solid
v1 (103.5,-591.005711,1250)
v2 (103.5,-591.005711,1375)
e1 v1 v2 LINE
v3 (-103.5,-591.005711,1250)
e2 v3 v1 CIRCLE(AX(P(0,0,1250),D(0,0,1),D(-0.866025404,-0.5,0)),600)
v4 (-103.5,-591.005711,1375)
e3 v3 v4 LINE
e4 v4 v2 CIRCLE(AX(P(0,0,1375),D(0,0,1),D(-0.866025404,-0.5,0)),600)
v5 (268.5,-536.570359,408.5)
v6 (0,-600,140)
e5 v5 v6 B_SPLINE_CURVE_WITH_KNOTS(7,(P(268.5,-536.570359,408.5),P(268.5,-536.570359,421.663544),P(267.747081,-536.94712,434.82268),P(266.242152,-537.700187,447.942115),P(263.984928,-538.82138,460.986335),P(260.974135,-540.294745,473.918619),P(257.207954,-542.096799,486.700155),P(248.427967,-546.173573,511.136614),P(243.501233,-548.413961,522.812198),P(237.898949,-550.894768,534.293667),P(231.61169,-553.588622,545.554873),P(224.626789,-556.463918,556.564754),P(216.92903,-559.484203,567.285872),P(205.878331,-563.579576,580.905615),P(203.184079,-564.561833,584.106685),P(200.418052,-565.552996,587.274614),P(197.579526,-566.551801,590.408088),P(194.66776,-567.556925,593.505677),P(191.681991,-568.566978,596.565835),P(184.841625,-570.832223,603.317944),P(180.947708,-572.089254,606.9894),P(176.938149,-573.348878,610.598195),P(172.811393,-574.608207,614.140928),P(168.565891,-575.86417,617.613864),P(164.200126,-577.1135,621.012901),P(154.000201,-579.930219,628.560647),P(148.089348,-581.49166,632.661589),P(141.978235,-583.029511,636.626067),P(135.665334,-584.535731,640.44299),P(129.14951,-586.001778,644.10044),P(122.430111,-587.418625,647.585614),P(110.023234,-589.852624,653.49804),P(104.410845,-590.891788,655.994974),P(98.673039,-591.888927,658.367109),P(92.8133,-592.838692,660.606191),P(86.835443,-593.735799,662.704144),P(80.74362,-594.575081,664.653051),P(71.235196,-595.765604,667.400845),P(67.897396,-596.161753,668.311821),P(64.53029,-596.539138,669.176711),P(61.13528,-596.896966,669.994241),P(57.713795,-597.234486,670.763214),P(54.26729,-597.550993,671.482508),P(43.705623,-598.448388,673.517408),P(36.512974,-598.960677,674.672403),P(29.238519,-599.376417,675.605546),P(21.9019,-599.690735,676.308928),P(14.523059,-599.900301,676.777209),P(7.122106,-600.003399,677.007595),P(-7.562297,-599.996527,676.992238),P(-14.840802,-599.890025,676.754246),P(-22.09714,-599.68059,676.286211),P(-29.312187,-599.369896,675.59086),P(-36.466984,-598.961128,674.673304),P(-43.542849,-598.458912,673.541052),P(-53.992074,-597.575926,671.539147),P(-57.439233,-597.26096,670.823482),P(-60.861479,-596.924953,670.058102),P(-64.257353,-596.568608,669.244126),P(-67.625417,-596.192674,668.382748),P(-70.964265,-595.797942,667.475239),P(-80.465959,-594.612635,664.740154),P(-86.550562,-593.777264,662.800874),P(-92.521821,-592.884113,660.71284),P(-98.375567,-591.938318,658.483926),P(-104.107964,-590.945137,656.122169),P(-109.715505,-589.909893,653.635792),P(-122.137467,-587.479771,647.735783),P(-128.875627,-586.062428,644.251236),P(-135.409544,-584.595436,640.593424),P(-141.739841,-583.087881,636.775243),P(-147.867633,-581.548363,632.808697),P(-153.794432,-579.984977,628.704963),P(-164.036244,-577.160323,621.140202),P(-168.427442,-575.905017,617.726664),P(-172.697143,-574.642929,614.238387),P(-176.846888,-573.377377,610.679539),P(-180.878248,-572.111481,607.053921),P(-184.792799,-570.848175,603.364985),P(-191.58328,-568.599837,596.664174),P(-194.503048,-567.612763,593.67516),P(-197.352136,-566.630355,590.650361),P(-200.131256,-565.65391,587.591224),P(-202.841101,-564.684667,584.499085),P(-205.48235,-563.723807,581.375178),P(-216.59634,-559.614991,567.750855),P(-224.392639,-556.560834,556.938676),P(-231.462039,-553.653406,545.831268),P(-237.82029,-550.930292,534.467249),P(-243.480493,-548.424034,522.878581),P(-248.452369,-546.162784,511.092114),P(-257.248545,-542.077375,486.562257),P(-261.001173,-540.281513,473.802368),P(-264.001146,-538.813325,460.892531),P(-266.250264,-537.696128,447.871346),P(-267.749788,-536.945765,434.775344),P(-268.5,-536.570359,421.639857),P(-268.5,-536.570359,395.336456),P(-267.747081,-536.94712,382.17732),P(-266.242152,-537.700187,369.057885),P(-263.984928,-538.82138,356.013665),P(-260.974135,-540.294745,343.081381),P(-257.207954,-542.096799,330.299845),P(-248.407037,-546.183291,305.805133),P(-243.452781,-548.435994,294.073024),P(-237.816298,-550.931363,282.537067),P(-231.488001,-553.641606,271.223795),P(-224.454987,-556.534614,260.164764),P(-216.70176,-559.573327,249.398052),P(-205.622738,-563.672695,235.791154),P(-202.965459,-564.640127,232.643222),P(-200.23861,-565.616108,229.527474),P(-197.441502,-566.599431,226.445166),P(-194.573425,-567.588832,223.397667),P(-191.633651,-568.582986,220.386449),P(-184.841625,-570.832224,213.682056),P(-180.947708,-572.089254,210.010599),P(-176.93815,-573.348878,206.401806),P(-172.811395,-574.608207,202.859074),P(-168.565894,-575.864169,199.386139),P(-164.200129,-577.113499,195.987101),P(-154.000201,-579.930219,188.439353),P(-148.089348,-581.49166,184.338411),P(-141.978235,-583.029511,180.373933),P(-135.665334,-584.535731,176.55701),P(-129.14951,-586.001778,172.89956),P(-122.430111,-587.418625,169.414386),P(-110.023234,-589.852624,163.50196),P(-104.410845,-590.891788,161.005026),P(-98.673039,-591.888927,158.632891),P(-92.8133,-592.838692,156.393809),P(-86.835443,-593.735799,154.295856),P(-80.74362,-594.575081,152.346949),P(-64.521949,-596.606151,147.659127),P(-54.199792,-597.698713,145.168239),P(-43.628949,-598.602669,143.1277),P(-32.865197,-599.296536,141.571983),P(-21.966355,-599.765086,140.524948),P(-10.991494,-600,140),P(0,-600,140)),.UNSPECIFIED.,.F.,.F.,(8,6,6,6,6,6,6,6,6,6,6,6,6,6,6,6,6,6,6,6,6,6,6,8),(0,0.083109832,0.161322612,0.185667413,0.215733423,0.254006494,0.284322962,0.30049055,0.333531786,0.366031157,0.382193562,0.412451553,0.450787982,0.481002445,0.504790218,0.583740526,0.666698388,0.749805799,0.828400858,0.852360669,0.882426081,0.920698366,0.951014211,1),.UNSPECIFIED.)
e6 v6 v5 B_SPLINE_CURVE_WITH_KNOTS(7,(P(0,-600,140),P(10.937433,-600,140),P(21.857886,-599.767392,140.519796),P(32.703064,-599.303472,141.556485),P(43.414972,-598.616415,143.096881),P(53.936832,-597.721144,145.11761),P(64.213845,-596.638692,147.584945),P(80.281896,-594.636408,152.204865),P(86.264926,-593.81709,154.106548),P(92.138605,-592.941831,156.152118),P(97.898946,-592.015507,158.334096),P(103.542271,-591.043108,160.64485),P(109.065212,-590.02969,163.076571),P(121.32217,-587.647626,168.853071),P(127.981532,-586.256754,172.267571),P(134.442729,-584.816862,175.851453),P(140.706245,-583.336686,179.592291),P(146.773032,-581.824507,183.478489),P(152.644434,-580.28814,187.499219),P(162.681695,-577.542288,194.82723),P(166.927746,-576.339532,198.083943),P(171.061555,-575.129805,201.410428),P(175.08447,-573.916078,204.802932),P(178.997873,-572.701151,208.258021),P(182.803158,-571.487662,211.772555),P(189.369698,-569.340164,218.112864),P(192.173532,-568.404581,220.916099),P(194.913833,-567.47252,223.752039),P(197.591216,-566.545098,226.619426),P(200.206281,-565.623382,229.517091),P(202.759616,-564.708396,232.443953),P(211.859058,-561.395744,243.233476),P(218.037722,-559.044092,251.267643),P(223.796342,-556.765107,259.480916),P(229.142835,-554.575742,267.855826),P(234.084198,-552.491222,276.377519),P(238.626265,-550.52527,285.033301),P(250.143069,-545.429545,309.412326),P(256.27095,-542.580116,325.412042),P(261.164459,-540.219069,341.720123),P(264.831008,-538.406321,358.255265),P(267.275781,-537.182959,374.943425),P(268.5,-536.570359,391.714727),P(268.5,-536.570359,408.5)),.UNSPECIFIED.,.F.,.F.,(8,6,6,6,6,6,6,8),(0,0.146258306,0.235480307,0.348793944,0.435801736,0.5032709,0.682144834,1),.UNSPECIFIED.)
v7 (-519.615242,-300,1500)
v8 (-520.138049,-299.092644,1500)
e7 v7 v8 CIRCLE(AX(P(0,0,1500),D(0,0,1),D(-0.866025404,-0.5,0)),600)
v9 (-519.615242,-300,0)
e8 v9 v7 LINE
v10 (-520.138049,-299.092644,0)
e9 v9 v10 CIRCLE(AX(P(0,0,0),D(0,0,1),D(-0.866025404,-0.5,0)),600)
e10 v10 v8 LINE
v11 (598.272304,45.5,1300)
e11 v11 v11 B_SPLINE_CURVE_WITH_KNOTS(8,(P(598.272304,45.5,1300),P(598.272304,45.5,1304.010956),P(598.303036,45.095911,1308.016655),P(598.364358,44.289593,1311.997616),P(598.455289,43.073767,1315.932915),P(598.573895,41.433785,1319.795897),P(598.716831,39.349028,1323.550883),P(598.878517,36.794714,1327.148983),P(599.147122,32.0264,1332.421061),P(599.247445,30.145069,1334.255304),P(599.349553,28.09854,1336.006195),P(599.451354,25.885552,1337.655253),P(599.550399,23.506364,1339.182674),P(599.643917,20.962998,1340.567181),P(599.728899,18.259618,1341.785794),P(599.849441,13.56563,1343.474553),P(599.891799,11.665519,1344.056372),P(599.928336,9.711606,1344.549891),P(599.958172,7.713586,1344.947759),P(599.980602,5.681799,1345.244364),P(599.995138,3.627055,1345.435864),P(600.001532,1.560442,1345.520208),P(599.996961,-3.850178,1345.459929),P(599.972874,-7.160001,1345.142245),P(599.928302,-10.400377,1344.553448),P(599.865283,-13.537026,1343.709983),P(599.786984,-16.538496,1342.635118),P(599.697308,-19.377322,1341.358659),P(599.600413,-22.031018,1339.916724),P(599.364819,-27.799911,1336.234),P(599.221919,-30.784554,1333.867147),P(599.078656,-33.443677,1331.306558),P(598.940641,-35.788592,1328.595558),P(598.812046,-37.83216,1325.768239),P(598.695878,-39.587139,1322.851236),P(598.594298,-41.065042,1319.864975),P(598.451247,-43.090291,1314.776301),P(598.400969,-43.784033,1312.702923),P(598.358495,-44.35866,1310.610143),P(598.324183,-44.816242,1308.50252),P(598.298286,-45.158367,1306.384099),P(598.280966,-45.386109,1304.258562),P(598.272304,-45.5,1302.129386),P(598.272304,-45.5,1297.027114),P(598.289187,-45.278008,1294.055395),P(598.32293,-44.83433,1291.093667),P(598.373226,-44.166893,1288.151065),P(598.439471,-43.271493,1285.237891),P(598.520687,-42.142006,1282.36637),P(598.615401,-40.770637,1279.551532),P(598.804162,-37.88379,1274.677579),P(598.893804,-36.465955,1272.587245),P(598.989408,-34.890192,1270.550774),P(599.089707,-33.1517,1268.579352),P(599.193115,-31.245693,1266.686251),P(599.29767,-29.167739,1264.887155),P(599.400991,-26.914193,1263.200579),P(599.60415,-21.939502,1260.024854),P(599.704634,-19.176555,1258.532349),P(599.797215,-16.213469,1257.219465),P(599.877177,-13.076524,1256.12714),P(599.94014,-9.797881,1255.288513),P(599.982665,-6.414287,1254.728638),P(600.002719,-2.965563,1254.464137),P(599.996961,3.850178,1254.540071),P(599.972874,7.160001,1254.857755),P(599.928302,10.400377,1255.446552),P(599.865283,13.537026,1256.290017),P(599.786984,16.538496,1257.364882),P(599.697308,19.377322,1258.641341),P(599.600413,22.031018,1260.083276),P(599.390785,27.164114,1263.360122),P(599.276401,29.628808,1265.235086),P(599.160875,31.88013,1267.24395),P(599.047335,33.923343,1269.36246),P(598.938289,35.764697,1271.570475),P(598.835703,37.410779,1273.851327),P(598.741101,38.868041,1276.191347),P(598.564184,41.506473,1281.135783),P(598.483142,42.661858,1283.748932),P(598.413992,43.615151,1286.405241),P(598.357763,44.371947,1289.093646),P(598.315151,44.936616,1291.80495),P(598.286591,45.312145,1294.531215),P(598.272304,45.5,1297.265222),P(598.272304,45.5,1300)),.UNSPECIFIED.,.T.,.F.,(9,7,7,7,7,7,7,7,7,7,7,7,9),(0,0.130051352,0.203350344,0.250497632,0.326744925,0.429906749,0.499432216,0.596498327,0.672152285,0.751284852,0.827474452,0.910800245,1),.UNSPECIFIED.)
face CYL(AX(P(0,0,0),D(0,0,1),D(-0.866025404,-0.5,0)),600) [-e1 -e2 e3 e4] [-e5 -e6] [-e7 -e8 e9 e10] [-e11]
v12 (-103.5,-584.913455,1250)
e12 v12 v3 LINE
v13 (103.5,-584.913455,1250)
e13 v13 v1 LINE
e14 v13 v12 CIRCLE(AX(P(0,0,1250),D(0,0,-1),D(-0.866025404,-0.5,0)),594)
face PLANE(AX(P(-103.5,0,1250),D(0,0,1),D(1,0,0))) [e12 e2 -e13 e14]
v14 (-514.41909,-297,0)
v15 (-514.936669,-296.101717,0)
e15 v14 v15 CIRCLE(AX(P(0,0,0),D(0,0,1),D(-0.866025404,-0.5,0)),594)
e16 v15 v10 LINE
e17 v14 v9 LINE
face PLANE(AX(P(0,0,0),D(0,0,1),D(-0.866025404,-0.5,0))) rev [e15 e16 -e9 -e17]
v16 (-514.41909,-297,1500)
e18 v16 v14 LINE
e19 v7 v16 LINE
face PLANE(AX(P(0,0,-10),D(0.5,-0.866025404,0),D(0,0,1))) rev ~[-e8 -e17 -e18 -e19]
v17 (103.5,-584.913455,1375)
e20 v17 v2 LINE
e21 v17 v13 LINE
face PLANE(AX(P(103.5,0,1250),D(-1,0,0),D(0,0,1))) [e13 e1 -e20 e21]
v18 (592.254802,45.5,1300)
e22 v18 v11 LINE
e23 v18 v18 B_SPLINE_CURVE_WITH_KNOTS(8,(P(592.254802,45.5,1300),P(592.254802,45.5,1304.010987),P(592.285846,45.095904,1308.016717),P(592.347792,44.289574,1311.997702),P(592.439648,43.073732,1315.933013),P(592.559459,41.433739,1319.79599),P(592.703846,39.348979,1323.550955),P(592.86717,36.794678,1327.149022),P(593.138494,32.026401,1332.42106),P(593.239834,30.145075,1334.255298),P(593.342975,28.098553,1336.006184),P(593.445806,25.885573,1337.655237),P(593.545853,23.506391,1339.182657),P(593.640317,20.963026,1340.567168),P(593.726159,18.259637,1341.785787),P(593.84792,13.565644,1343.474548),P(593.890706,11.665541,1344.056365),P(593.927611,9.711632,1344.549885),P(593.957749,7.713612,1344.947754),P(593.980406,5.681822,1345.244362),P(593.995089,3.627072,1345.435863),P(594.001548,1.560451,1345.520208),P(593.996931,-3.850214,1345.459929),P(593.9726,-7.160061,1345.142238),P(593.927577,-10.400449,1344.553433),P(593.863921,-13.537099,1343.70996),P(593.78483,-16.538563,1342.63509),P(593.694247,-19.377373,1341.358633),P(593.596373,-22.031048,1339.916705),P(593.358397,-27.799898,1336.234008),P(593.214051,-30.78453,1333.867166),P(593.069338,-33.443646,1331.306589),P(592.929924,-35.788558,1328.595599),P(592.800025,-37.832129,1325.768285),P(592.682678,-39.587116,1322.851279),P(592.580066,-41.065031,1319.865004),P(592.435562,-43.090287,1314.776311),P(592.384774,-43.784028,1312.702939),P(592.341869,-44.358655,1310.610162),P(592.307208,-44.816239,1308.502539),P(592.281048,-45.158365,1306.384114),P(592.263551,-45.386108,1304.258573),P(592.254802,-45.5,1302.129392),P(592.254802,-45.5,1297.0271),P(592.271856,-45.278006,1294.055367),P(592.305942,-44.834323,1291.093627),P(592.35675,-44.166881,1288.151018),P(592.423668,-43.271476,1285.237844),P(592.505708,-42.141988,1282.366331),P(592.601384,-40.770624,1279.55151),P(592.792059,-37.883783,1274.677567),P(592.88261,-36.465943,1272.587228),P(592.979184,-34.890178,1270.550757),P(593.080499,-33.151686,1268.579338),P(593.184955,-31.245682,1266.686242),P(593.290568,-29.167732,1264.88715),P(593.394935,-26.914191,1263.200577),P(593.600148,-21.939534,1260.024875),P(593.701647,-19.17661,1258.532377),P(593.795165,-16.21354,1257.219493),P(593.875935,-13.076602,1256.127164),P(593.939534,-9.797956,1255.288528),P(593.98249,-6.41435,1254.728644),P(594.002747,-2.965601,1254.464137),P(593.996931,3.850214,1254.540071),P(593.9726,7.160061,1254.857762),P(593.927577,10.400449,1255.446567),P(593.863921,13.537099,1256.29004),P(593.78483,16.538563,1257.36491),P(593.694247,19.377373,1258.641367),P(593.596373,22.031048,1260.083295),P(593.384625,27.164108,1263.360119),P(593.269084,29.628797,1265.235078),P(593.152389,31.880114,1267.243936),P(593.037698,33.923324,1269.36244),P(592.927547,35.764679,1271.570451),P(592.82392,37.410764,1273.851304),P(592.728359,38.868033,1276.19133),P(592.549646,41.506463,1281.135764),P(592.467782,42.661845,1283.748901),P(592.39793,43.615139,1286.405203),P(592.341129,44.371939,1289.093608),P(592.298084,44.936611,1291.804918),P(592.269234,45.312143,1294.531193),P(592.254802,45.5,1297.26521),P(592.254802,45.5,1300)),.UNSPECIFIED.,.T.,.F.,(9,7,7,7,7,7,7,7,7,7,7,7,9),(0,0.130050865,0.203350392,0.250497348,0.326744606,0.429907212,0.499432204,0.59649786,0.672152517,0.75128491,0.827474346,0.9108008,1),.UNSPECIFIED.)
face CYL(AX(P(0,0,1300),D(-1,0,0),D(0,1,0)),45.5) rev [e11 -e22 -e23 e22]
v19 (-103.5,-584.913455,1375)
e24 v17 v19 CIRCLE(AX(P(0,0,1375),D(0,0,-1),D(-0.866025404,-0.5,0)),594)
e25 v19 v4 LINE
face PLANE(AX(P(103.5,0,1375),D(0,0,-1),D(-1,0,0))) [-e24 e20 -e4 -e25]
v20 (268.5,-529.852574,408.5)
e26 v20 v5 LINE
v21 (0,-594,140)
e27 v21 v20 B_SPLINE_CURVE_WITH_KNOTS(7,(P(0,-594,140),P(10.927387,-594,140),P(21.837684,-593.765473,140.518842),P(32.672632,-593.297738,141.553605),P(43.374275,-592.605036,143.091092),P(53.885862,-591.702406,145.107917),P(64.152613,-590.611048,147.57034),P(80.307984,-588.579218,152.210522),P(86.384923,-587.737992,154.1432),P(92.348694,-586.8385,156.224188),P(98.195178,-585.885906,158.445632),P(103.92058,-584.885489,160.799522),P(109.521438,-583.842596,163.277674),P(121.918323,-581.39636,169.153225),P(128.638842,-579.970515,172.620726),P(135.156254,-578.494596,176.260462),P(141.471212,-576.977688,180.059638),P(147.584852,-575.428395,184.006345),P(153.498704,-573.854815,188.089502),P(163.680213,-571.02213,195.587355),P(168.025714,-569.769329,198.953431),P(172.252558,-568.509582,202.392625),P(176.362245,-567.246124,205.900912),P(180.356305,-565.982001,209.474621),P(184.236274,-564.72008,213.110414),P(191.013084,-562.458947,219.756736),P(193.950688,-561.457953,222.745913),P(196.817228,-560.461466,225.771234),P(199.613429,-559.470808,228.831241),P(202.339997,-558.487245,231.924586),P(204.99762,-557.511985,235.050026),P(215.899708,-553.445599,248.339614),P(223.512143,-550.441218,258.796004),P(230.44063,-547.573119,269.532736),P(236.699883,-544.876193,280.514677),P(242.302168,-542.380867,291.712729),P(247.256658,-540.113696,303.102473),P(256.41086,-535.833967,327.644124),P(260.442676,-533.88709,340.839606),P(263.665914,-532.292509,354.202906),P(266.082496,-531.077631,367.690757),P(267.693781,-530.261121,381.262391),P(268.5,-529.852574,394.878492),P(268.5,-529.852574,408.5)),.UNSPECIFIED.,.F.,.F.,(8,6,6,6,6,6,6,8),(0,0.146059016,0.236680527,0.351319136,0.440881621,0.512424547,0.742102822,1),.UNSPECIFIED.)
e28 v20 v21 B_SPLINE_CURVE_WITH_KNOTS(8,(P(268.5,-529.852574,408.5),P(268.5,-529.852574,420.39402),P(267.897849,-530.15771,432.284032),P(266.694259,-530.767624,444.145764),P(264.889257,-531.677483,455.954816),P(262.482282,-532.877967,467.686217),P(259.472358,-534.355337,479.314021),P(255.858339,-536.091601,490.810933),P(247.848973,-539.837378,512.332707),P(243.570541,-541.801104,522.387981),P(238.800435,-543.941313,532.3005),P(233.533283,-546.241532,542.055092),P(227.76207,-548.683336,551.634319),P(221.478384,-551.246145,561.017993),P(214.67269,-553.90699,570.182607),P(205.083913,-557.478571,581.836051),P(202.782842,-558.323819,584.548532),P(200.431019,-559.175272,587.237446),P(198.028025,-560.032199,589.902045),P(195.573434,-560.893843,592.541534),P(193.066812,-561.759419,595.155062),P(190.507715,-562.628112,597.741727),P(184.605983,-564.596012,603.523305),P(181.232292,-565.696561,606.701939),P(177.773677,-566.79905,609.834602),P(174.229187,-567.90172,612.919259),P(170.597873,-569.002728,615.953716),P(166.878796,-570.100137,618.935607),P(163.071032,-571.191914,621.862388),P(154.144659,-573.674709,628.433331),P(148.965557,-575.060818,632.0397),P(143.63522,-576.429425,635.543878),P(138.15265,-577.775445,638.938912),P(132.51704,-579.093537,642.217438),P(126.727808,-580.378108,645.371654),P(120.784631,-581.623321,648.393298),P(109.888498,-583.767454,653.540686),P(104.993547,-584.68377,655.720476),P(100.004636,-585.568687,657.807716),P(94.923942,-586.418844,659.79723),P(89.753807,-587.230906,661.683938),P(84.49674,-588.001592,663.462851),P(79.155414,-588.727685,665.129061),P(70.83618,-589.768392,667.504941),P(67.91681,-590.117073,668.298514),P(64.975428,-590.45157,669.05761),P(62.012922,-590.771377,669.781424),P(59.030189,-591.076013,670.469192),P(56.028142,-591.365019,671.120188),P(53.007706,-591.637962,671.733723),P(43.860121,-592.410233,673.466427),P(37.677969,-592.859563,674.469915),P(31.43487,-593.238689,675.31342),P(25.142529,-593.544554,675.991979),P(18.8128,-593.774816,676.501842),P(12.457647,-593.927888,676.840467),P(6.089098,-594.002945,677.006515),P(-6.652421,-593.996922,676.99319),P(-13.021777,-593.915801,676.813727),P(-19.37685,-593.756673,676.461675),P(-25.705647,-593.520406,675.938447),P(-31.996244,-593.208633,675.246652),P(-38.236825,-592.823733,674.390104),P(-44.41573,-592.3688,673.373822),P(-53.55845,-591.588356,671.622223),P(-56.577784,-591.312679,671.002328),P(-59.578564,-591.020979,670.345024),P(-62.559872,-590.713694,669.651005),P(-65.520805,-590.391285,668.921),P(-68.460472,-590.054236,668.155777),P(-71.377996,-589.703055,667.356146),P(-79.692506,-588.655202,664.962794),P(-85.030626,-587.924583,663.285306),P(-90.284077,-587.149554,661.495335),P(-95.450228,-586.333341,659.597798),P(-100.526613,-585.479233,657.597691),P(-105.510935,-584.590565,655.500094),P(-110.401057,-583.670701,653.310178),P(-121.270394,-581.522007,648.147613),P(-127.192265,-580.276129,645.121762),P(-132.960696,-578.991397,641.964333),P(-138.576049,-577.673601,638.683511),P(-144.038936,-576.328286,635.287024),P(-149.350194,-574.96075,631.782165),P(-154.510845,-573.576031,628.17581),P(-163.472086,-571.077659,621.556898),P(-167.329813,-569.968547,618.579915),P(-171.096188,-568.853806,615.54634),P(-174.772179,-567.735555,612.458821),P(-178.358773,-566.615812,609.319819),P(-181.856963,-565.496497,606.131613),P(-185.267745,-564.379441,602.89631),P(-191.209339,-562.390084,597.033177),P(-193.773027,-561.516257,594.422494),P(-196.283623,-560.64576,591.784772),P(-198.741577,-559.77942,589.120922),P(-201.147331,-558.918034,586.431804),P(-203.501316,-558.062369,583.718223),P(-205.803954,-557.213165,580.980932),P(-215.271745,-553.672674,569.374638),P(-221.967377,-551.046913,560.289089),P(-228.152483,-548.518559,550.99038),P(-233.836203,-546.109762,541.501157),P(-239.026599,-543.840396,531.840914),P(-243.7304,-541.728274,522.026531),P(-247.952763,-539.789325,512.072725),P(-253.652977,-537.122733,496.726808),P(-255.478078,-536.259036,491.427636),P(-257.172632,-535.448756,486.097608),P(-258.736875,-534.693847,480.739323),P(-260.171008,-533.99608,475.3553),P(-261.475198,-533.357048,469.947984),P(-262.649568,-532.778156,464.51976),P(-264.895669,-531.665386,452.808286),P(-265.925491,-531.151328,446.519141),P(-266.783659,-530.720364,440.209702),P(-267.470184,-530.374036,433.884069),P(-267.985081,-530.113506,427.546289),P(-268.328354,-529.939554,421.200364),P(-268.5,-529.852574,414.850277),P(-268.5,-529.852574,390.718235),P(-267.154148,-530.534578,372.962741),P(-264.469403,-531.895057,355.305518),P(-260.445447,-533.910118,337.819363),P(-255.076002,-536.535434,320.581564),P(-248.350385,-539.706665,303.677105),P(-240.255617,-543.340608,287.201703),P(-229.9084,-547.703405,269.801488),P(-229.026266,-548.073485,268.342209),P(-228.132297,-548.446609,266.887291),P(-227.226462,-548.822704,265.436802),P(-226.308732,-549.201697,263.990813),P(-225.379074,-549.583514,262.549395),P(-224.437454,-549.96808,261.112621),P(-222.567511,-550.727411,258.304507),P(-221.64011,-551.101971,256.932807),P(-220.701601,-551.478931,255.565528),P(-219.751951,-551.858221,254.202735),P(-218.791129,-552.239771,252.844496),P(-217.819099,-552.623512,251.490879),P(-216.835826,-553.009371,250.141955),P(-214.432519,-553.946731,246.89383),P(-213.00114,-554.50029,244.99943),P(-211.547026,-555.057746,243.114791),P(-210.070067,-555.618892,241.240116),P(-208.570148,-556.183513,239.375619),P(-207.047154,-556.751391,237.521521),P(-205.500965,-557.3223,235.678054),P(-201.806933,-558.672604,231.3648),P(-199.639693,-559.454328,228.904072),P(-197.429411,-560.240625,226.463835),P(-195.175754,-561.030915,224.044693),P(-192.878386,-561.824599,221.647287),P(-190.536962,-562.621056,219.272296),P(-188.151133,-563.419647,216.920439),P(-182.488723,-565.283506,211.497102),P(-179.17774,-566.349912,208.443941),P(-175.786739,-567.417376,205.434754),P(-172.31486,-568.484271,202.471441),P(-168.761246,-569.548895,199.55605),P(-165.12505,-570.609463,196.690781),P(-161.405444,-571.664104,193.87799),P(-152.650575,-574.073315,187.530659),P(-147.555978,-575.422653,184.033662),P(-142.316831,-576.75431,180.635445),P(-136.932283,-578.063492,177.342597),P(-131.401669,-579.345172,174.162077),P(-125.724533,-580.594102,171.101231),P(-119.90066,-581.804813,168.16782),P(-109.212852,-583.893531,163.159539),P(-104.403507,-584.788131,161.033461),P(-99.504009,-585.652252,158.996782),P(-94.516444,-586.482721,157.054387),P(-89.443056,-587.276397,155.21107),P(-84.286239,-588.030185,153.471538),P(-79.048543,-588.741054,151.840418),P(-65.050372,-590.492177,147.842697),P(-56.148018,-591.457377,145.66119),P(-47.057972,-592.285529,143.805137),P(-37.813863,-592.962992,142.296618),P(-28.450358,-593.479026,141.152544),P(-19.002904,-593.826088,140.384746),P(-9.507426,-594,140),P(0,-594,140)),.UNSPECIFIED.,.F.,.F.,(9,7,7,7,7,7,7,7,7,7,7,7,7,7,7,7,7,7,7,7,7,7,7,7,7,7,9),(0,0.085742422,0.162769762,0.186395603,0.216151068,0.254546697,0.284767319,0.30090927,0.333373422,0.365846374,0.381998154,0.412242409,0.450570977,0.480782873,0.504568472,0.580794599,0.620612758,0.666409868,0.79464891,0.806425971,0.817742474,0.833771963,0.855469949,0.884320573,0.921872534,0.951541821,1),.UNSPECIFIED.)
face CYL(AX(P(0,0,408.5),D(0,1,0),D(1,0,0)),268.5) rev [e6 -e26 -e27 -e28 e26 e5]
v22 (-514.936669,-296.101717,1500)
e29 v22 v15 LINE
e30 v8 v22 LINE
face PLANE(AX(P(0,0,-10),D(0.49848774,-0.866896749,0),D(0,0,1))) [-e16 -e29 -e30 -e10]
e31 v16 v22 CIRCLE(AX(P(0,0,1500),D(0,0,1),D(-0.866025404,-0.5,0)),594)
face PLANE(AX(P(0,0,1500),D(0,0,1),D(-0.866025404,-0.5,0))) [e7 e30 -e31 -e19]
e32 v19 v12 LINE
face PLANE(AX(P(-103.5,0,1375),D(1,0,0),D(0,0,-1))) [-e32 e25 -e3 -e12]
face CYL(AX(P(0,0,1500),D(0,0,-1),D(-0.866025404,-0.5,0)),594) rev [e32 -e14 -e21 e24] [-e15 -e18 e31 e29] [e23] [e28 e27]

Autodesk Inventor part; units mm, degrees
sketch "Sketch13" plane through (0, 0, 0) normal (0, 0, 1) x (1, 0, 0)
  circle A0 centre (0, 0) radius 600 construction
  line L0 (0, 0) -> (0, -600)
  line L1 (0, 0) -> (-519.6152, -300)
  line L2 (0, 0) -> (600, 0)
  line L3 (0, 0) -> (0, -600)
  line L4 (0, 0) -> (0, -600)
  line L5 (0, 0) -> (534.6039, 272.3943)
  line L6 (0, 0) -> (0, 600)
  dimension "d53" = 1200
  dimension "d55" = 0
  dimension "d98" = 180
  dimension "d99" = 240
  dimension "d100" = 63
  dimension "d101" = 90
ref_plane "WeldJoint" through (0, 0, -10) normal (0.5, -0.866, 0) x (0, 0, 1)
ref_plane "Inlet_Clock_Angle_plane" through (0, 0, -10) normal (0, 1, 0) x (0, 0, 1)
ref_plane "Charging" through (0, 0, -10) normal (1, 0, 0) x (0, 0, 1)
ref_plane "Accsess" through (0, 0, -10) normal (1, 0, 0) x (0, 0, 1)
sketch "Sketch14" plane through (0, 0, -10) normal (0.5, -0.866, 0) x (0, 0, 1)
  line L0 (1510, 594) -> (10, 594)
  line L1 (10, 594) -> (10, 600)
  line L2 (10, 600) -> (1510, 600)
  line L3 (1510, 600) -> (1510, 594)
  line L4 (10, 0) -> (1510, 0)
  line L5 (10, 600) -> (-20, 600) construction
  line L6 (10, 594) -> (-20, 594) construction
  arc A0 (-20, 594) -> (-109.2789, 539.0476) centre (-20, 494) ccw construction
  arc A1 (-109.2789, 539.0476) -> (-234, 15) centre (929.3202, 15) ccw construction
  line L7 (-234, 15) -> (-234, 0) construction
  line L8 (10, 0) -> (-234, 0) construction
  arc A2 (-20, 600) -> (-114.6356, 541.7504) centre (-20, 494) ccw construction
  arc A3 (-114.6356, 541.7504) -> (-240, 15) centre (929.3202, 15) ccw construction
  line L9 (-240, 15) -> (-240, 0) construction
  line L10 (-234, 0) -> (-240, 0) construction
  line L11 (1510, 594) -> (1540, 594)
  line L12 (1510, 600) -> (1540, 600)
  line L13 (1510, 0) -> (1754, 0) construction
  line L14 (1760, 0) -> (1760, 15) construction
  arc A4 (1760, 15) -> (1634.6356, 541.7504) centre (590.6798, 15) ccw construction
  arc A5 (1634.6356, 541.7504) -> (1540, 600) centre (1540, 494) ccw construction
  line L15 (1754, 0) -> (1754, 15) construction
  line L16 (1754, 0) -> (1760, 0) construction
  arc A6 (1754, 15) -> (1629.2789, 539.0476) centre (590.6798, 15) ccw construction
  arc A7 (1629.2789, 539.0476) -> (1540, 594) centre (1540, 494) ccw construction
  line L17 (-156.8588, 530) -> (-610, 530)
  line L18 (-610, 530) -> (-610, 450)
  line L19 (-610, 450) -> (-156.8588, 450)
  line L20 (-156.8588, 450) -> (-156.8588, 530)
  line L21 (1760, 15) -> (1790, 15) construction
  line L22 (1790, 15) -> (1790, 0) construction
  line L23 (1790, 0) -> (1760, 0) construction
  line L24 (-610, 610) -> (-610, 530)
  line L25 (-610, 610) -> (-604, 610)
  line L26 (-604, 610) -> (-604, 530)
  line L27 (-115.4356, 543.7196) -> (-164.9441, 431.7071)
  line L28 (-156.8588, 530) -> (-121.4996, 530)
  line L29 (-109.2789, 539.0476) -> (-114.6356, 541.7504)
  line L30 (-115.4356, 543.7196) -> (-116.0014, 542.4396) construction
  line L31 (-116.0014, 542.4396) -> (-114.6356, 541.7504) construction
  point P0 (10, 597)
  point P1 (-140.1899, 487.7134)
  dimension "d59" = 1500
  dimension "d60" = 6
  dimension "d61" = 1200
  dimension "d82" = 100
  dimension "d83" = 30
  dimension "d86" = 80
  dimension "d87" = 30
  dimension "d88" = 2400
  dimension "d90" = 900
  dimension "d91" = 15
  dimension "d92" = 20
  dimension "d93" = 250
  dimension "d94" = 30
revolve "Revolution2" add sketch "Sketch14" angle 359.9 about axis through (0, 0, 0) along (0, 0, 1) contours L0 L1 L2 L3
sketch "Sketch AnglePlane_InletPipe" plane through (0, 0, -10) normal (0, 1, 0) x (0, 0, 1)
  line L0 (10, -600) -> (10, 600) projected
  line L1 (10, 0) -> (1310, 0)
  line L2 (1310, 0) -> (1310, 600)
  line L3 (1310, 600) -> (10, 600)
  line L4 (10, 600) -> (10, 0)
  point P0 (10, -519.6152)
  point P1 (10, -520.138)
  dimension "d63" = 1200
  dimension "d64" = 90
  dimension "frd_hght" = 1300
ref_plane "InletPipe_AnglePlane" through (0, 0, 1300) normal (1, 0, 0) x (0, 1, 0)
sketch "Sketch16" plane through (0, 0, 1300) normal (1, 0, 0) x (0, 1, 0)
  circle A0 centre (0, 0) radius 45.5
  point P0 (0, -1300)
  point P1 (0, 0)
  point P2 (0, 0)
  point P3 (0, 0)
  dimension "d66" = 91
extrude "Extrusion7" cut sketch "Sketch16" along normal through all
ref_plane "Work Plane16" through (0, 0, 0) normal (0, -1, 0) x (1, 0, 0)
sketch "Sketch17" plane through (0, 0, 0) normal (0, -1, 0) x (1, 0, 0)
  circle A0 centre (0, 408.5) radius 268.5
  line L0 (0, 140) -> (-495.5727, 140)
  point P0 (0, 0)
  dimension "d69" = 537
  dimension "d71" = 140
extrude "Extrusion8" cut sketch "Sketch17" along normal through all
sketch "Sketch19" plane through (0, 0, -10) normal (1, 0, 0) x (0, 0, 1)
  line L0 (10, 0) -> (1260, 0)
  line L1 (1260, 0) -> (1260, 600)
  line L2 (1260, 600) -> (10, 600)
  line L3 (10, 600) -> (10, 0)
  dimension "d74" = 1250
  dimension "d76" = 1200
  dimension "d77" = 90
ref_plane "Work Plane18" through (0, 0, 1250) normal (0, -1, 0) x (1, 0, 0)
sketch "Sketch20" plane through (0, 0, 1250) normal (0, -1, 0) x (1, 0, 0)
  line L0 (-103.5, 0) -> (103.5, 0)
  line L1 (103.5, 0) -> (103.5, 125)
  line L2 (103.5, 125) -> (-103.5, 125)
  line L3 (-103.5, 125) -> (-103.5, 0)
  point P0 (0, -1250)
  point P1 (0, 0)
  point P2 (0, 0)
  point P3 (0, 0)
  point P4 (0, 0)
  dimension "d78" = 207
  dimension "d79" = 125
extrude "Extrusion9" cut sketch "Sketch20" along normal through all
equation "\"BendRadius\" = Thickness"
equation "\"BendReliefWidth\" = Thickness"
equation "\"BendReliefDepth\" = 0.5 * Thickness"
equation "\"CornerReliefSize\" = 4 * Thickness"
equation "\"MinimumRemnant\" = 2 * Thickness"
equation "\"TransitionRadius\" = BendRadius"
equation "\"JacobiRadiusSize\" = BendRadius"
equation "\"GapSize\" = Thickness"
equation "\"InletPipe_horisont_angle\" = 0"
equation "\"AccsessHatch_diameter\" = 535"
equation "\"AccsessHatch_ClockAngle\" = 0"
equation "\"ChargingHatch_ClockAgnle\" = 180deg"
equation "\"InletPipe_Clock_angle\" = 90deg"
equation "\"OutletPipe_ClockAngle\" = 63deg"
equation "\"WeldJoint_ClockAgnle\" = 240deg"
equation "\"Thickness\" = 6"
properties part number "PRS 000 Filter1200 MAIN Shell" material "Steel"
